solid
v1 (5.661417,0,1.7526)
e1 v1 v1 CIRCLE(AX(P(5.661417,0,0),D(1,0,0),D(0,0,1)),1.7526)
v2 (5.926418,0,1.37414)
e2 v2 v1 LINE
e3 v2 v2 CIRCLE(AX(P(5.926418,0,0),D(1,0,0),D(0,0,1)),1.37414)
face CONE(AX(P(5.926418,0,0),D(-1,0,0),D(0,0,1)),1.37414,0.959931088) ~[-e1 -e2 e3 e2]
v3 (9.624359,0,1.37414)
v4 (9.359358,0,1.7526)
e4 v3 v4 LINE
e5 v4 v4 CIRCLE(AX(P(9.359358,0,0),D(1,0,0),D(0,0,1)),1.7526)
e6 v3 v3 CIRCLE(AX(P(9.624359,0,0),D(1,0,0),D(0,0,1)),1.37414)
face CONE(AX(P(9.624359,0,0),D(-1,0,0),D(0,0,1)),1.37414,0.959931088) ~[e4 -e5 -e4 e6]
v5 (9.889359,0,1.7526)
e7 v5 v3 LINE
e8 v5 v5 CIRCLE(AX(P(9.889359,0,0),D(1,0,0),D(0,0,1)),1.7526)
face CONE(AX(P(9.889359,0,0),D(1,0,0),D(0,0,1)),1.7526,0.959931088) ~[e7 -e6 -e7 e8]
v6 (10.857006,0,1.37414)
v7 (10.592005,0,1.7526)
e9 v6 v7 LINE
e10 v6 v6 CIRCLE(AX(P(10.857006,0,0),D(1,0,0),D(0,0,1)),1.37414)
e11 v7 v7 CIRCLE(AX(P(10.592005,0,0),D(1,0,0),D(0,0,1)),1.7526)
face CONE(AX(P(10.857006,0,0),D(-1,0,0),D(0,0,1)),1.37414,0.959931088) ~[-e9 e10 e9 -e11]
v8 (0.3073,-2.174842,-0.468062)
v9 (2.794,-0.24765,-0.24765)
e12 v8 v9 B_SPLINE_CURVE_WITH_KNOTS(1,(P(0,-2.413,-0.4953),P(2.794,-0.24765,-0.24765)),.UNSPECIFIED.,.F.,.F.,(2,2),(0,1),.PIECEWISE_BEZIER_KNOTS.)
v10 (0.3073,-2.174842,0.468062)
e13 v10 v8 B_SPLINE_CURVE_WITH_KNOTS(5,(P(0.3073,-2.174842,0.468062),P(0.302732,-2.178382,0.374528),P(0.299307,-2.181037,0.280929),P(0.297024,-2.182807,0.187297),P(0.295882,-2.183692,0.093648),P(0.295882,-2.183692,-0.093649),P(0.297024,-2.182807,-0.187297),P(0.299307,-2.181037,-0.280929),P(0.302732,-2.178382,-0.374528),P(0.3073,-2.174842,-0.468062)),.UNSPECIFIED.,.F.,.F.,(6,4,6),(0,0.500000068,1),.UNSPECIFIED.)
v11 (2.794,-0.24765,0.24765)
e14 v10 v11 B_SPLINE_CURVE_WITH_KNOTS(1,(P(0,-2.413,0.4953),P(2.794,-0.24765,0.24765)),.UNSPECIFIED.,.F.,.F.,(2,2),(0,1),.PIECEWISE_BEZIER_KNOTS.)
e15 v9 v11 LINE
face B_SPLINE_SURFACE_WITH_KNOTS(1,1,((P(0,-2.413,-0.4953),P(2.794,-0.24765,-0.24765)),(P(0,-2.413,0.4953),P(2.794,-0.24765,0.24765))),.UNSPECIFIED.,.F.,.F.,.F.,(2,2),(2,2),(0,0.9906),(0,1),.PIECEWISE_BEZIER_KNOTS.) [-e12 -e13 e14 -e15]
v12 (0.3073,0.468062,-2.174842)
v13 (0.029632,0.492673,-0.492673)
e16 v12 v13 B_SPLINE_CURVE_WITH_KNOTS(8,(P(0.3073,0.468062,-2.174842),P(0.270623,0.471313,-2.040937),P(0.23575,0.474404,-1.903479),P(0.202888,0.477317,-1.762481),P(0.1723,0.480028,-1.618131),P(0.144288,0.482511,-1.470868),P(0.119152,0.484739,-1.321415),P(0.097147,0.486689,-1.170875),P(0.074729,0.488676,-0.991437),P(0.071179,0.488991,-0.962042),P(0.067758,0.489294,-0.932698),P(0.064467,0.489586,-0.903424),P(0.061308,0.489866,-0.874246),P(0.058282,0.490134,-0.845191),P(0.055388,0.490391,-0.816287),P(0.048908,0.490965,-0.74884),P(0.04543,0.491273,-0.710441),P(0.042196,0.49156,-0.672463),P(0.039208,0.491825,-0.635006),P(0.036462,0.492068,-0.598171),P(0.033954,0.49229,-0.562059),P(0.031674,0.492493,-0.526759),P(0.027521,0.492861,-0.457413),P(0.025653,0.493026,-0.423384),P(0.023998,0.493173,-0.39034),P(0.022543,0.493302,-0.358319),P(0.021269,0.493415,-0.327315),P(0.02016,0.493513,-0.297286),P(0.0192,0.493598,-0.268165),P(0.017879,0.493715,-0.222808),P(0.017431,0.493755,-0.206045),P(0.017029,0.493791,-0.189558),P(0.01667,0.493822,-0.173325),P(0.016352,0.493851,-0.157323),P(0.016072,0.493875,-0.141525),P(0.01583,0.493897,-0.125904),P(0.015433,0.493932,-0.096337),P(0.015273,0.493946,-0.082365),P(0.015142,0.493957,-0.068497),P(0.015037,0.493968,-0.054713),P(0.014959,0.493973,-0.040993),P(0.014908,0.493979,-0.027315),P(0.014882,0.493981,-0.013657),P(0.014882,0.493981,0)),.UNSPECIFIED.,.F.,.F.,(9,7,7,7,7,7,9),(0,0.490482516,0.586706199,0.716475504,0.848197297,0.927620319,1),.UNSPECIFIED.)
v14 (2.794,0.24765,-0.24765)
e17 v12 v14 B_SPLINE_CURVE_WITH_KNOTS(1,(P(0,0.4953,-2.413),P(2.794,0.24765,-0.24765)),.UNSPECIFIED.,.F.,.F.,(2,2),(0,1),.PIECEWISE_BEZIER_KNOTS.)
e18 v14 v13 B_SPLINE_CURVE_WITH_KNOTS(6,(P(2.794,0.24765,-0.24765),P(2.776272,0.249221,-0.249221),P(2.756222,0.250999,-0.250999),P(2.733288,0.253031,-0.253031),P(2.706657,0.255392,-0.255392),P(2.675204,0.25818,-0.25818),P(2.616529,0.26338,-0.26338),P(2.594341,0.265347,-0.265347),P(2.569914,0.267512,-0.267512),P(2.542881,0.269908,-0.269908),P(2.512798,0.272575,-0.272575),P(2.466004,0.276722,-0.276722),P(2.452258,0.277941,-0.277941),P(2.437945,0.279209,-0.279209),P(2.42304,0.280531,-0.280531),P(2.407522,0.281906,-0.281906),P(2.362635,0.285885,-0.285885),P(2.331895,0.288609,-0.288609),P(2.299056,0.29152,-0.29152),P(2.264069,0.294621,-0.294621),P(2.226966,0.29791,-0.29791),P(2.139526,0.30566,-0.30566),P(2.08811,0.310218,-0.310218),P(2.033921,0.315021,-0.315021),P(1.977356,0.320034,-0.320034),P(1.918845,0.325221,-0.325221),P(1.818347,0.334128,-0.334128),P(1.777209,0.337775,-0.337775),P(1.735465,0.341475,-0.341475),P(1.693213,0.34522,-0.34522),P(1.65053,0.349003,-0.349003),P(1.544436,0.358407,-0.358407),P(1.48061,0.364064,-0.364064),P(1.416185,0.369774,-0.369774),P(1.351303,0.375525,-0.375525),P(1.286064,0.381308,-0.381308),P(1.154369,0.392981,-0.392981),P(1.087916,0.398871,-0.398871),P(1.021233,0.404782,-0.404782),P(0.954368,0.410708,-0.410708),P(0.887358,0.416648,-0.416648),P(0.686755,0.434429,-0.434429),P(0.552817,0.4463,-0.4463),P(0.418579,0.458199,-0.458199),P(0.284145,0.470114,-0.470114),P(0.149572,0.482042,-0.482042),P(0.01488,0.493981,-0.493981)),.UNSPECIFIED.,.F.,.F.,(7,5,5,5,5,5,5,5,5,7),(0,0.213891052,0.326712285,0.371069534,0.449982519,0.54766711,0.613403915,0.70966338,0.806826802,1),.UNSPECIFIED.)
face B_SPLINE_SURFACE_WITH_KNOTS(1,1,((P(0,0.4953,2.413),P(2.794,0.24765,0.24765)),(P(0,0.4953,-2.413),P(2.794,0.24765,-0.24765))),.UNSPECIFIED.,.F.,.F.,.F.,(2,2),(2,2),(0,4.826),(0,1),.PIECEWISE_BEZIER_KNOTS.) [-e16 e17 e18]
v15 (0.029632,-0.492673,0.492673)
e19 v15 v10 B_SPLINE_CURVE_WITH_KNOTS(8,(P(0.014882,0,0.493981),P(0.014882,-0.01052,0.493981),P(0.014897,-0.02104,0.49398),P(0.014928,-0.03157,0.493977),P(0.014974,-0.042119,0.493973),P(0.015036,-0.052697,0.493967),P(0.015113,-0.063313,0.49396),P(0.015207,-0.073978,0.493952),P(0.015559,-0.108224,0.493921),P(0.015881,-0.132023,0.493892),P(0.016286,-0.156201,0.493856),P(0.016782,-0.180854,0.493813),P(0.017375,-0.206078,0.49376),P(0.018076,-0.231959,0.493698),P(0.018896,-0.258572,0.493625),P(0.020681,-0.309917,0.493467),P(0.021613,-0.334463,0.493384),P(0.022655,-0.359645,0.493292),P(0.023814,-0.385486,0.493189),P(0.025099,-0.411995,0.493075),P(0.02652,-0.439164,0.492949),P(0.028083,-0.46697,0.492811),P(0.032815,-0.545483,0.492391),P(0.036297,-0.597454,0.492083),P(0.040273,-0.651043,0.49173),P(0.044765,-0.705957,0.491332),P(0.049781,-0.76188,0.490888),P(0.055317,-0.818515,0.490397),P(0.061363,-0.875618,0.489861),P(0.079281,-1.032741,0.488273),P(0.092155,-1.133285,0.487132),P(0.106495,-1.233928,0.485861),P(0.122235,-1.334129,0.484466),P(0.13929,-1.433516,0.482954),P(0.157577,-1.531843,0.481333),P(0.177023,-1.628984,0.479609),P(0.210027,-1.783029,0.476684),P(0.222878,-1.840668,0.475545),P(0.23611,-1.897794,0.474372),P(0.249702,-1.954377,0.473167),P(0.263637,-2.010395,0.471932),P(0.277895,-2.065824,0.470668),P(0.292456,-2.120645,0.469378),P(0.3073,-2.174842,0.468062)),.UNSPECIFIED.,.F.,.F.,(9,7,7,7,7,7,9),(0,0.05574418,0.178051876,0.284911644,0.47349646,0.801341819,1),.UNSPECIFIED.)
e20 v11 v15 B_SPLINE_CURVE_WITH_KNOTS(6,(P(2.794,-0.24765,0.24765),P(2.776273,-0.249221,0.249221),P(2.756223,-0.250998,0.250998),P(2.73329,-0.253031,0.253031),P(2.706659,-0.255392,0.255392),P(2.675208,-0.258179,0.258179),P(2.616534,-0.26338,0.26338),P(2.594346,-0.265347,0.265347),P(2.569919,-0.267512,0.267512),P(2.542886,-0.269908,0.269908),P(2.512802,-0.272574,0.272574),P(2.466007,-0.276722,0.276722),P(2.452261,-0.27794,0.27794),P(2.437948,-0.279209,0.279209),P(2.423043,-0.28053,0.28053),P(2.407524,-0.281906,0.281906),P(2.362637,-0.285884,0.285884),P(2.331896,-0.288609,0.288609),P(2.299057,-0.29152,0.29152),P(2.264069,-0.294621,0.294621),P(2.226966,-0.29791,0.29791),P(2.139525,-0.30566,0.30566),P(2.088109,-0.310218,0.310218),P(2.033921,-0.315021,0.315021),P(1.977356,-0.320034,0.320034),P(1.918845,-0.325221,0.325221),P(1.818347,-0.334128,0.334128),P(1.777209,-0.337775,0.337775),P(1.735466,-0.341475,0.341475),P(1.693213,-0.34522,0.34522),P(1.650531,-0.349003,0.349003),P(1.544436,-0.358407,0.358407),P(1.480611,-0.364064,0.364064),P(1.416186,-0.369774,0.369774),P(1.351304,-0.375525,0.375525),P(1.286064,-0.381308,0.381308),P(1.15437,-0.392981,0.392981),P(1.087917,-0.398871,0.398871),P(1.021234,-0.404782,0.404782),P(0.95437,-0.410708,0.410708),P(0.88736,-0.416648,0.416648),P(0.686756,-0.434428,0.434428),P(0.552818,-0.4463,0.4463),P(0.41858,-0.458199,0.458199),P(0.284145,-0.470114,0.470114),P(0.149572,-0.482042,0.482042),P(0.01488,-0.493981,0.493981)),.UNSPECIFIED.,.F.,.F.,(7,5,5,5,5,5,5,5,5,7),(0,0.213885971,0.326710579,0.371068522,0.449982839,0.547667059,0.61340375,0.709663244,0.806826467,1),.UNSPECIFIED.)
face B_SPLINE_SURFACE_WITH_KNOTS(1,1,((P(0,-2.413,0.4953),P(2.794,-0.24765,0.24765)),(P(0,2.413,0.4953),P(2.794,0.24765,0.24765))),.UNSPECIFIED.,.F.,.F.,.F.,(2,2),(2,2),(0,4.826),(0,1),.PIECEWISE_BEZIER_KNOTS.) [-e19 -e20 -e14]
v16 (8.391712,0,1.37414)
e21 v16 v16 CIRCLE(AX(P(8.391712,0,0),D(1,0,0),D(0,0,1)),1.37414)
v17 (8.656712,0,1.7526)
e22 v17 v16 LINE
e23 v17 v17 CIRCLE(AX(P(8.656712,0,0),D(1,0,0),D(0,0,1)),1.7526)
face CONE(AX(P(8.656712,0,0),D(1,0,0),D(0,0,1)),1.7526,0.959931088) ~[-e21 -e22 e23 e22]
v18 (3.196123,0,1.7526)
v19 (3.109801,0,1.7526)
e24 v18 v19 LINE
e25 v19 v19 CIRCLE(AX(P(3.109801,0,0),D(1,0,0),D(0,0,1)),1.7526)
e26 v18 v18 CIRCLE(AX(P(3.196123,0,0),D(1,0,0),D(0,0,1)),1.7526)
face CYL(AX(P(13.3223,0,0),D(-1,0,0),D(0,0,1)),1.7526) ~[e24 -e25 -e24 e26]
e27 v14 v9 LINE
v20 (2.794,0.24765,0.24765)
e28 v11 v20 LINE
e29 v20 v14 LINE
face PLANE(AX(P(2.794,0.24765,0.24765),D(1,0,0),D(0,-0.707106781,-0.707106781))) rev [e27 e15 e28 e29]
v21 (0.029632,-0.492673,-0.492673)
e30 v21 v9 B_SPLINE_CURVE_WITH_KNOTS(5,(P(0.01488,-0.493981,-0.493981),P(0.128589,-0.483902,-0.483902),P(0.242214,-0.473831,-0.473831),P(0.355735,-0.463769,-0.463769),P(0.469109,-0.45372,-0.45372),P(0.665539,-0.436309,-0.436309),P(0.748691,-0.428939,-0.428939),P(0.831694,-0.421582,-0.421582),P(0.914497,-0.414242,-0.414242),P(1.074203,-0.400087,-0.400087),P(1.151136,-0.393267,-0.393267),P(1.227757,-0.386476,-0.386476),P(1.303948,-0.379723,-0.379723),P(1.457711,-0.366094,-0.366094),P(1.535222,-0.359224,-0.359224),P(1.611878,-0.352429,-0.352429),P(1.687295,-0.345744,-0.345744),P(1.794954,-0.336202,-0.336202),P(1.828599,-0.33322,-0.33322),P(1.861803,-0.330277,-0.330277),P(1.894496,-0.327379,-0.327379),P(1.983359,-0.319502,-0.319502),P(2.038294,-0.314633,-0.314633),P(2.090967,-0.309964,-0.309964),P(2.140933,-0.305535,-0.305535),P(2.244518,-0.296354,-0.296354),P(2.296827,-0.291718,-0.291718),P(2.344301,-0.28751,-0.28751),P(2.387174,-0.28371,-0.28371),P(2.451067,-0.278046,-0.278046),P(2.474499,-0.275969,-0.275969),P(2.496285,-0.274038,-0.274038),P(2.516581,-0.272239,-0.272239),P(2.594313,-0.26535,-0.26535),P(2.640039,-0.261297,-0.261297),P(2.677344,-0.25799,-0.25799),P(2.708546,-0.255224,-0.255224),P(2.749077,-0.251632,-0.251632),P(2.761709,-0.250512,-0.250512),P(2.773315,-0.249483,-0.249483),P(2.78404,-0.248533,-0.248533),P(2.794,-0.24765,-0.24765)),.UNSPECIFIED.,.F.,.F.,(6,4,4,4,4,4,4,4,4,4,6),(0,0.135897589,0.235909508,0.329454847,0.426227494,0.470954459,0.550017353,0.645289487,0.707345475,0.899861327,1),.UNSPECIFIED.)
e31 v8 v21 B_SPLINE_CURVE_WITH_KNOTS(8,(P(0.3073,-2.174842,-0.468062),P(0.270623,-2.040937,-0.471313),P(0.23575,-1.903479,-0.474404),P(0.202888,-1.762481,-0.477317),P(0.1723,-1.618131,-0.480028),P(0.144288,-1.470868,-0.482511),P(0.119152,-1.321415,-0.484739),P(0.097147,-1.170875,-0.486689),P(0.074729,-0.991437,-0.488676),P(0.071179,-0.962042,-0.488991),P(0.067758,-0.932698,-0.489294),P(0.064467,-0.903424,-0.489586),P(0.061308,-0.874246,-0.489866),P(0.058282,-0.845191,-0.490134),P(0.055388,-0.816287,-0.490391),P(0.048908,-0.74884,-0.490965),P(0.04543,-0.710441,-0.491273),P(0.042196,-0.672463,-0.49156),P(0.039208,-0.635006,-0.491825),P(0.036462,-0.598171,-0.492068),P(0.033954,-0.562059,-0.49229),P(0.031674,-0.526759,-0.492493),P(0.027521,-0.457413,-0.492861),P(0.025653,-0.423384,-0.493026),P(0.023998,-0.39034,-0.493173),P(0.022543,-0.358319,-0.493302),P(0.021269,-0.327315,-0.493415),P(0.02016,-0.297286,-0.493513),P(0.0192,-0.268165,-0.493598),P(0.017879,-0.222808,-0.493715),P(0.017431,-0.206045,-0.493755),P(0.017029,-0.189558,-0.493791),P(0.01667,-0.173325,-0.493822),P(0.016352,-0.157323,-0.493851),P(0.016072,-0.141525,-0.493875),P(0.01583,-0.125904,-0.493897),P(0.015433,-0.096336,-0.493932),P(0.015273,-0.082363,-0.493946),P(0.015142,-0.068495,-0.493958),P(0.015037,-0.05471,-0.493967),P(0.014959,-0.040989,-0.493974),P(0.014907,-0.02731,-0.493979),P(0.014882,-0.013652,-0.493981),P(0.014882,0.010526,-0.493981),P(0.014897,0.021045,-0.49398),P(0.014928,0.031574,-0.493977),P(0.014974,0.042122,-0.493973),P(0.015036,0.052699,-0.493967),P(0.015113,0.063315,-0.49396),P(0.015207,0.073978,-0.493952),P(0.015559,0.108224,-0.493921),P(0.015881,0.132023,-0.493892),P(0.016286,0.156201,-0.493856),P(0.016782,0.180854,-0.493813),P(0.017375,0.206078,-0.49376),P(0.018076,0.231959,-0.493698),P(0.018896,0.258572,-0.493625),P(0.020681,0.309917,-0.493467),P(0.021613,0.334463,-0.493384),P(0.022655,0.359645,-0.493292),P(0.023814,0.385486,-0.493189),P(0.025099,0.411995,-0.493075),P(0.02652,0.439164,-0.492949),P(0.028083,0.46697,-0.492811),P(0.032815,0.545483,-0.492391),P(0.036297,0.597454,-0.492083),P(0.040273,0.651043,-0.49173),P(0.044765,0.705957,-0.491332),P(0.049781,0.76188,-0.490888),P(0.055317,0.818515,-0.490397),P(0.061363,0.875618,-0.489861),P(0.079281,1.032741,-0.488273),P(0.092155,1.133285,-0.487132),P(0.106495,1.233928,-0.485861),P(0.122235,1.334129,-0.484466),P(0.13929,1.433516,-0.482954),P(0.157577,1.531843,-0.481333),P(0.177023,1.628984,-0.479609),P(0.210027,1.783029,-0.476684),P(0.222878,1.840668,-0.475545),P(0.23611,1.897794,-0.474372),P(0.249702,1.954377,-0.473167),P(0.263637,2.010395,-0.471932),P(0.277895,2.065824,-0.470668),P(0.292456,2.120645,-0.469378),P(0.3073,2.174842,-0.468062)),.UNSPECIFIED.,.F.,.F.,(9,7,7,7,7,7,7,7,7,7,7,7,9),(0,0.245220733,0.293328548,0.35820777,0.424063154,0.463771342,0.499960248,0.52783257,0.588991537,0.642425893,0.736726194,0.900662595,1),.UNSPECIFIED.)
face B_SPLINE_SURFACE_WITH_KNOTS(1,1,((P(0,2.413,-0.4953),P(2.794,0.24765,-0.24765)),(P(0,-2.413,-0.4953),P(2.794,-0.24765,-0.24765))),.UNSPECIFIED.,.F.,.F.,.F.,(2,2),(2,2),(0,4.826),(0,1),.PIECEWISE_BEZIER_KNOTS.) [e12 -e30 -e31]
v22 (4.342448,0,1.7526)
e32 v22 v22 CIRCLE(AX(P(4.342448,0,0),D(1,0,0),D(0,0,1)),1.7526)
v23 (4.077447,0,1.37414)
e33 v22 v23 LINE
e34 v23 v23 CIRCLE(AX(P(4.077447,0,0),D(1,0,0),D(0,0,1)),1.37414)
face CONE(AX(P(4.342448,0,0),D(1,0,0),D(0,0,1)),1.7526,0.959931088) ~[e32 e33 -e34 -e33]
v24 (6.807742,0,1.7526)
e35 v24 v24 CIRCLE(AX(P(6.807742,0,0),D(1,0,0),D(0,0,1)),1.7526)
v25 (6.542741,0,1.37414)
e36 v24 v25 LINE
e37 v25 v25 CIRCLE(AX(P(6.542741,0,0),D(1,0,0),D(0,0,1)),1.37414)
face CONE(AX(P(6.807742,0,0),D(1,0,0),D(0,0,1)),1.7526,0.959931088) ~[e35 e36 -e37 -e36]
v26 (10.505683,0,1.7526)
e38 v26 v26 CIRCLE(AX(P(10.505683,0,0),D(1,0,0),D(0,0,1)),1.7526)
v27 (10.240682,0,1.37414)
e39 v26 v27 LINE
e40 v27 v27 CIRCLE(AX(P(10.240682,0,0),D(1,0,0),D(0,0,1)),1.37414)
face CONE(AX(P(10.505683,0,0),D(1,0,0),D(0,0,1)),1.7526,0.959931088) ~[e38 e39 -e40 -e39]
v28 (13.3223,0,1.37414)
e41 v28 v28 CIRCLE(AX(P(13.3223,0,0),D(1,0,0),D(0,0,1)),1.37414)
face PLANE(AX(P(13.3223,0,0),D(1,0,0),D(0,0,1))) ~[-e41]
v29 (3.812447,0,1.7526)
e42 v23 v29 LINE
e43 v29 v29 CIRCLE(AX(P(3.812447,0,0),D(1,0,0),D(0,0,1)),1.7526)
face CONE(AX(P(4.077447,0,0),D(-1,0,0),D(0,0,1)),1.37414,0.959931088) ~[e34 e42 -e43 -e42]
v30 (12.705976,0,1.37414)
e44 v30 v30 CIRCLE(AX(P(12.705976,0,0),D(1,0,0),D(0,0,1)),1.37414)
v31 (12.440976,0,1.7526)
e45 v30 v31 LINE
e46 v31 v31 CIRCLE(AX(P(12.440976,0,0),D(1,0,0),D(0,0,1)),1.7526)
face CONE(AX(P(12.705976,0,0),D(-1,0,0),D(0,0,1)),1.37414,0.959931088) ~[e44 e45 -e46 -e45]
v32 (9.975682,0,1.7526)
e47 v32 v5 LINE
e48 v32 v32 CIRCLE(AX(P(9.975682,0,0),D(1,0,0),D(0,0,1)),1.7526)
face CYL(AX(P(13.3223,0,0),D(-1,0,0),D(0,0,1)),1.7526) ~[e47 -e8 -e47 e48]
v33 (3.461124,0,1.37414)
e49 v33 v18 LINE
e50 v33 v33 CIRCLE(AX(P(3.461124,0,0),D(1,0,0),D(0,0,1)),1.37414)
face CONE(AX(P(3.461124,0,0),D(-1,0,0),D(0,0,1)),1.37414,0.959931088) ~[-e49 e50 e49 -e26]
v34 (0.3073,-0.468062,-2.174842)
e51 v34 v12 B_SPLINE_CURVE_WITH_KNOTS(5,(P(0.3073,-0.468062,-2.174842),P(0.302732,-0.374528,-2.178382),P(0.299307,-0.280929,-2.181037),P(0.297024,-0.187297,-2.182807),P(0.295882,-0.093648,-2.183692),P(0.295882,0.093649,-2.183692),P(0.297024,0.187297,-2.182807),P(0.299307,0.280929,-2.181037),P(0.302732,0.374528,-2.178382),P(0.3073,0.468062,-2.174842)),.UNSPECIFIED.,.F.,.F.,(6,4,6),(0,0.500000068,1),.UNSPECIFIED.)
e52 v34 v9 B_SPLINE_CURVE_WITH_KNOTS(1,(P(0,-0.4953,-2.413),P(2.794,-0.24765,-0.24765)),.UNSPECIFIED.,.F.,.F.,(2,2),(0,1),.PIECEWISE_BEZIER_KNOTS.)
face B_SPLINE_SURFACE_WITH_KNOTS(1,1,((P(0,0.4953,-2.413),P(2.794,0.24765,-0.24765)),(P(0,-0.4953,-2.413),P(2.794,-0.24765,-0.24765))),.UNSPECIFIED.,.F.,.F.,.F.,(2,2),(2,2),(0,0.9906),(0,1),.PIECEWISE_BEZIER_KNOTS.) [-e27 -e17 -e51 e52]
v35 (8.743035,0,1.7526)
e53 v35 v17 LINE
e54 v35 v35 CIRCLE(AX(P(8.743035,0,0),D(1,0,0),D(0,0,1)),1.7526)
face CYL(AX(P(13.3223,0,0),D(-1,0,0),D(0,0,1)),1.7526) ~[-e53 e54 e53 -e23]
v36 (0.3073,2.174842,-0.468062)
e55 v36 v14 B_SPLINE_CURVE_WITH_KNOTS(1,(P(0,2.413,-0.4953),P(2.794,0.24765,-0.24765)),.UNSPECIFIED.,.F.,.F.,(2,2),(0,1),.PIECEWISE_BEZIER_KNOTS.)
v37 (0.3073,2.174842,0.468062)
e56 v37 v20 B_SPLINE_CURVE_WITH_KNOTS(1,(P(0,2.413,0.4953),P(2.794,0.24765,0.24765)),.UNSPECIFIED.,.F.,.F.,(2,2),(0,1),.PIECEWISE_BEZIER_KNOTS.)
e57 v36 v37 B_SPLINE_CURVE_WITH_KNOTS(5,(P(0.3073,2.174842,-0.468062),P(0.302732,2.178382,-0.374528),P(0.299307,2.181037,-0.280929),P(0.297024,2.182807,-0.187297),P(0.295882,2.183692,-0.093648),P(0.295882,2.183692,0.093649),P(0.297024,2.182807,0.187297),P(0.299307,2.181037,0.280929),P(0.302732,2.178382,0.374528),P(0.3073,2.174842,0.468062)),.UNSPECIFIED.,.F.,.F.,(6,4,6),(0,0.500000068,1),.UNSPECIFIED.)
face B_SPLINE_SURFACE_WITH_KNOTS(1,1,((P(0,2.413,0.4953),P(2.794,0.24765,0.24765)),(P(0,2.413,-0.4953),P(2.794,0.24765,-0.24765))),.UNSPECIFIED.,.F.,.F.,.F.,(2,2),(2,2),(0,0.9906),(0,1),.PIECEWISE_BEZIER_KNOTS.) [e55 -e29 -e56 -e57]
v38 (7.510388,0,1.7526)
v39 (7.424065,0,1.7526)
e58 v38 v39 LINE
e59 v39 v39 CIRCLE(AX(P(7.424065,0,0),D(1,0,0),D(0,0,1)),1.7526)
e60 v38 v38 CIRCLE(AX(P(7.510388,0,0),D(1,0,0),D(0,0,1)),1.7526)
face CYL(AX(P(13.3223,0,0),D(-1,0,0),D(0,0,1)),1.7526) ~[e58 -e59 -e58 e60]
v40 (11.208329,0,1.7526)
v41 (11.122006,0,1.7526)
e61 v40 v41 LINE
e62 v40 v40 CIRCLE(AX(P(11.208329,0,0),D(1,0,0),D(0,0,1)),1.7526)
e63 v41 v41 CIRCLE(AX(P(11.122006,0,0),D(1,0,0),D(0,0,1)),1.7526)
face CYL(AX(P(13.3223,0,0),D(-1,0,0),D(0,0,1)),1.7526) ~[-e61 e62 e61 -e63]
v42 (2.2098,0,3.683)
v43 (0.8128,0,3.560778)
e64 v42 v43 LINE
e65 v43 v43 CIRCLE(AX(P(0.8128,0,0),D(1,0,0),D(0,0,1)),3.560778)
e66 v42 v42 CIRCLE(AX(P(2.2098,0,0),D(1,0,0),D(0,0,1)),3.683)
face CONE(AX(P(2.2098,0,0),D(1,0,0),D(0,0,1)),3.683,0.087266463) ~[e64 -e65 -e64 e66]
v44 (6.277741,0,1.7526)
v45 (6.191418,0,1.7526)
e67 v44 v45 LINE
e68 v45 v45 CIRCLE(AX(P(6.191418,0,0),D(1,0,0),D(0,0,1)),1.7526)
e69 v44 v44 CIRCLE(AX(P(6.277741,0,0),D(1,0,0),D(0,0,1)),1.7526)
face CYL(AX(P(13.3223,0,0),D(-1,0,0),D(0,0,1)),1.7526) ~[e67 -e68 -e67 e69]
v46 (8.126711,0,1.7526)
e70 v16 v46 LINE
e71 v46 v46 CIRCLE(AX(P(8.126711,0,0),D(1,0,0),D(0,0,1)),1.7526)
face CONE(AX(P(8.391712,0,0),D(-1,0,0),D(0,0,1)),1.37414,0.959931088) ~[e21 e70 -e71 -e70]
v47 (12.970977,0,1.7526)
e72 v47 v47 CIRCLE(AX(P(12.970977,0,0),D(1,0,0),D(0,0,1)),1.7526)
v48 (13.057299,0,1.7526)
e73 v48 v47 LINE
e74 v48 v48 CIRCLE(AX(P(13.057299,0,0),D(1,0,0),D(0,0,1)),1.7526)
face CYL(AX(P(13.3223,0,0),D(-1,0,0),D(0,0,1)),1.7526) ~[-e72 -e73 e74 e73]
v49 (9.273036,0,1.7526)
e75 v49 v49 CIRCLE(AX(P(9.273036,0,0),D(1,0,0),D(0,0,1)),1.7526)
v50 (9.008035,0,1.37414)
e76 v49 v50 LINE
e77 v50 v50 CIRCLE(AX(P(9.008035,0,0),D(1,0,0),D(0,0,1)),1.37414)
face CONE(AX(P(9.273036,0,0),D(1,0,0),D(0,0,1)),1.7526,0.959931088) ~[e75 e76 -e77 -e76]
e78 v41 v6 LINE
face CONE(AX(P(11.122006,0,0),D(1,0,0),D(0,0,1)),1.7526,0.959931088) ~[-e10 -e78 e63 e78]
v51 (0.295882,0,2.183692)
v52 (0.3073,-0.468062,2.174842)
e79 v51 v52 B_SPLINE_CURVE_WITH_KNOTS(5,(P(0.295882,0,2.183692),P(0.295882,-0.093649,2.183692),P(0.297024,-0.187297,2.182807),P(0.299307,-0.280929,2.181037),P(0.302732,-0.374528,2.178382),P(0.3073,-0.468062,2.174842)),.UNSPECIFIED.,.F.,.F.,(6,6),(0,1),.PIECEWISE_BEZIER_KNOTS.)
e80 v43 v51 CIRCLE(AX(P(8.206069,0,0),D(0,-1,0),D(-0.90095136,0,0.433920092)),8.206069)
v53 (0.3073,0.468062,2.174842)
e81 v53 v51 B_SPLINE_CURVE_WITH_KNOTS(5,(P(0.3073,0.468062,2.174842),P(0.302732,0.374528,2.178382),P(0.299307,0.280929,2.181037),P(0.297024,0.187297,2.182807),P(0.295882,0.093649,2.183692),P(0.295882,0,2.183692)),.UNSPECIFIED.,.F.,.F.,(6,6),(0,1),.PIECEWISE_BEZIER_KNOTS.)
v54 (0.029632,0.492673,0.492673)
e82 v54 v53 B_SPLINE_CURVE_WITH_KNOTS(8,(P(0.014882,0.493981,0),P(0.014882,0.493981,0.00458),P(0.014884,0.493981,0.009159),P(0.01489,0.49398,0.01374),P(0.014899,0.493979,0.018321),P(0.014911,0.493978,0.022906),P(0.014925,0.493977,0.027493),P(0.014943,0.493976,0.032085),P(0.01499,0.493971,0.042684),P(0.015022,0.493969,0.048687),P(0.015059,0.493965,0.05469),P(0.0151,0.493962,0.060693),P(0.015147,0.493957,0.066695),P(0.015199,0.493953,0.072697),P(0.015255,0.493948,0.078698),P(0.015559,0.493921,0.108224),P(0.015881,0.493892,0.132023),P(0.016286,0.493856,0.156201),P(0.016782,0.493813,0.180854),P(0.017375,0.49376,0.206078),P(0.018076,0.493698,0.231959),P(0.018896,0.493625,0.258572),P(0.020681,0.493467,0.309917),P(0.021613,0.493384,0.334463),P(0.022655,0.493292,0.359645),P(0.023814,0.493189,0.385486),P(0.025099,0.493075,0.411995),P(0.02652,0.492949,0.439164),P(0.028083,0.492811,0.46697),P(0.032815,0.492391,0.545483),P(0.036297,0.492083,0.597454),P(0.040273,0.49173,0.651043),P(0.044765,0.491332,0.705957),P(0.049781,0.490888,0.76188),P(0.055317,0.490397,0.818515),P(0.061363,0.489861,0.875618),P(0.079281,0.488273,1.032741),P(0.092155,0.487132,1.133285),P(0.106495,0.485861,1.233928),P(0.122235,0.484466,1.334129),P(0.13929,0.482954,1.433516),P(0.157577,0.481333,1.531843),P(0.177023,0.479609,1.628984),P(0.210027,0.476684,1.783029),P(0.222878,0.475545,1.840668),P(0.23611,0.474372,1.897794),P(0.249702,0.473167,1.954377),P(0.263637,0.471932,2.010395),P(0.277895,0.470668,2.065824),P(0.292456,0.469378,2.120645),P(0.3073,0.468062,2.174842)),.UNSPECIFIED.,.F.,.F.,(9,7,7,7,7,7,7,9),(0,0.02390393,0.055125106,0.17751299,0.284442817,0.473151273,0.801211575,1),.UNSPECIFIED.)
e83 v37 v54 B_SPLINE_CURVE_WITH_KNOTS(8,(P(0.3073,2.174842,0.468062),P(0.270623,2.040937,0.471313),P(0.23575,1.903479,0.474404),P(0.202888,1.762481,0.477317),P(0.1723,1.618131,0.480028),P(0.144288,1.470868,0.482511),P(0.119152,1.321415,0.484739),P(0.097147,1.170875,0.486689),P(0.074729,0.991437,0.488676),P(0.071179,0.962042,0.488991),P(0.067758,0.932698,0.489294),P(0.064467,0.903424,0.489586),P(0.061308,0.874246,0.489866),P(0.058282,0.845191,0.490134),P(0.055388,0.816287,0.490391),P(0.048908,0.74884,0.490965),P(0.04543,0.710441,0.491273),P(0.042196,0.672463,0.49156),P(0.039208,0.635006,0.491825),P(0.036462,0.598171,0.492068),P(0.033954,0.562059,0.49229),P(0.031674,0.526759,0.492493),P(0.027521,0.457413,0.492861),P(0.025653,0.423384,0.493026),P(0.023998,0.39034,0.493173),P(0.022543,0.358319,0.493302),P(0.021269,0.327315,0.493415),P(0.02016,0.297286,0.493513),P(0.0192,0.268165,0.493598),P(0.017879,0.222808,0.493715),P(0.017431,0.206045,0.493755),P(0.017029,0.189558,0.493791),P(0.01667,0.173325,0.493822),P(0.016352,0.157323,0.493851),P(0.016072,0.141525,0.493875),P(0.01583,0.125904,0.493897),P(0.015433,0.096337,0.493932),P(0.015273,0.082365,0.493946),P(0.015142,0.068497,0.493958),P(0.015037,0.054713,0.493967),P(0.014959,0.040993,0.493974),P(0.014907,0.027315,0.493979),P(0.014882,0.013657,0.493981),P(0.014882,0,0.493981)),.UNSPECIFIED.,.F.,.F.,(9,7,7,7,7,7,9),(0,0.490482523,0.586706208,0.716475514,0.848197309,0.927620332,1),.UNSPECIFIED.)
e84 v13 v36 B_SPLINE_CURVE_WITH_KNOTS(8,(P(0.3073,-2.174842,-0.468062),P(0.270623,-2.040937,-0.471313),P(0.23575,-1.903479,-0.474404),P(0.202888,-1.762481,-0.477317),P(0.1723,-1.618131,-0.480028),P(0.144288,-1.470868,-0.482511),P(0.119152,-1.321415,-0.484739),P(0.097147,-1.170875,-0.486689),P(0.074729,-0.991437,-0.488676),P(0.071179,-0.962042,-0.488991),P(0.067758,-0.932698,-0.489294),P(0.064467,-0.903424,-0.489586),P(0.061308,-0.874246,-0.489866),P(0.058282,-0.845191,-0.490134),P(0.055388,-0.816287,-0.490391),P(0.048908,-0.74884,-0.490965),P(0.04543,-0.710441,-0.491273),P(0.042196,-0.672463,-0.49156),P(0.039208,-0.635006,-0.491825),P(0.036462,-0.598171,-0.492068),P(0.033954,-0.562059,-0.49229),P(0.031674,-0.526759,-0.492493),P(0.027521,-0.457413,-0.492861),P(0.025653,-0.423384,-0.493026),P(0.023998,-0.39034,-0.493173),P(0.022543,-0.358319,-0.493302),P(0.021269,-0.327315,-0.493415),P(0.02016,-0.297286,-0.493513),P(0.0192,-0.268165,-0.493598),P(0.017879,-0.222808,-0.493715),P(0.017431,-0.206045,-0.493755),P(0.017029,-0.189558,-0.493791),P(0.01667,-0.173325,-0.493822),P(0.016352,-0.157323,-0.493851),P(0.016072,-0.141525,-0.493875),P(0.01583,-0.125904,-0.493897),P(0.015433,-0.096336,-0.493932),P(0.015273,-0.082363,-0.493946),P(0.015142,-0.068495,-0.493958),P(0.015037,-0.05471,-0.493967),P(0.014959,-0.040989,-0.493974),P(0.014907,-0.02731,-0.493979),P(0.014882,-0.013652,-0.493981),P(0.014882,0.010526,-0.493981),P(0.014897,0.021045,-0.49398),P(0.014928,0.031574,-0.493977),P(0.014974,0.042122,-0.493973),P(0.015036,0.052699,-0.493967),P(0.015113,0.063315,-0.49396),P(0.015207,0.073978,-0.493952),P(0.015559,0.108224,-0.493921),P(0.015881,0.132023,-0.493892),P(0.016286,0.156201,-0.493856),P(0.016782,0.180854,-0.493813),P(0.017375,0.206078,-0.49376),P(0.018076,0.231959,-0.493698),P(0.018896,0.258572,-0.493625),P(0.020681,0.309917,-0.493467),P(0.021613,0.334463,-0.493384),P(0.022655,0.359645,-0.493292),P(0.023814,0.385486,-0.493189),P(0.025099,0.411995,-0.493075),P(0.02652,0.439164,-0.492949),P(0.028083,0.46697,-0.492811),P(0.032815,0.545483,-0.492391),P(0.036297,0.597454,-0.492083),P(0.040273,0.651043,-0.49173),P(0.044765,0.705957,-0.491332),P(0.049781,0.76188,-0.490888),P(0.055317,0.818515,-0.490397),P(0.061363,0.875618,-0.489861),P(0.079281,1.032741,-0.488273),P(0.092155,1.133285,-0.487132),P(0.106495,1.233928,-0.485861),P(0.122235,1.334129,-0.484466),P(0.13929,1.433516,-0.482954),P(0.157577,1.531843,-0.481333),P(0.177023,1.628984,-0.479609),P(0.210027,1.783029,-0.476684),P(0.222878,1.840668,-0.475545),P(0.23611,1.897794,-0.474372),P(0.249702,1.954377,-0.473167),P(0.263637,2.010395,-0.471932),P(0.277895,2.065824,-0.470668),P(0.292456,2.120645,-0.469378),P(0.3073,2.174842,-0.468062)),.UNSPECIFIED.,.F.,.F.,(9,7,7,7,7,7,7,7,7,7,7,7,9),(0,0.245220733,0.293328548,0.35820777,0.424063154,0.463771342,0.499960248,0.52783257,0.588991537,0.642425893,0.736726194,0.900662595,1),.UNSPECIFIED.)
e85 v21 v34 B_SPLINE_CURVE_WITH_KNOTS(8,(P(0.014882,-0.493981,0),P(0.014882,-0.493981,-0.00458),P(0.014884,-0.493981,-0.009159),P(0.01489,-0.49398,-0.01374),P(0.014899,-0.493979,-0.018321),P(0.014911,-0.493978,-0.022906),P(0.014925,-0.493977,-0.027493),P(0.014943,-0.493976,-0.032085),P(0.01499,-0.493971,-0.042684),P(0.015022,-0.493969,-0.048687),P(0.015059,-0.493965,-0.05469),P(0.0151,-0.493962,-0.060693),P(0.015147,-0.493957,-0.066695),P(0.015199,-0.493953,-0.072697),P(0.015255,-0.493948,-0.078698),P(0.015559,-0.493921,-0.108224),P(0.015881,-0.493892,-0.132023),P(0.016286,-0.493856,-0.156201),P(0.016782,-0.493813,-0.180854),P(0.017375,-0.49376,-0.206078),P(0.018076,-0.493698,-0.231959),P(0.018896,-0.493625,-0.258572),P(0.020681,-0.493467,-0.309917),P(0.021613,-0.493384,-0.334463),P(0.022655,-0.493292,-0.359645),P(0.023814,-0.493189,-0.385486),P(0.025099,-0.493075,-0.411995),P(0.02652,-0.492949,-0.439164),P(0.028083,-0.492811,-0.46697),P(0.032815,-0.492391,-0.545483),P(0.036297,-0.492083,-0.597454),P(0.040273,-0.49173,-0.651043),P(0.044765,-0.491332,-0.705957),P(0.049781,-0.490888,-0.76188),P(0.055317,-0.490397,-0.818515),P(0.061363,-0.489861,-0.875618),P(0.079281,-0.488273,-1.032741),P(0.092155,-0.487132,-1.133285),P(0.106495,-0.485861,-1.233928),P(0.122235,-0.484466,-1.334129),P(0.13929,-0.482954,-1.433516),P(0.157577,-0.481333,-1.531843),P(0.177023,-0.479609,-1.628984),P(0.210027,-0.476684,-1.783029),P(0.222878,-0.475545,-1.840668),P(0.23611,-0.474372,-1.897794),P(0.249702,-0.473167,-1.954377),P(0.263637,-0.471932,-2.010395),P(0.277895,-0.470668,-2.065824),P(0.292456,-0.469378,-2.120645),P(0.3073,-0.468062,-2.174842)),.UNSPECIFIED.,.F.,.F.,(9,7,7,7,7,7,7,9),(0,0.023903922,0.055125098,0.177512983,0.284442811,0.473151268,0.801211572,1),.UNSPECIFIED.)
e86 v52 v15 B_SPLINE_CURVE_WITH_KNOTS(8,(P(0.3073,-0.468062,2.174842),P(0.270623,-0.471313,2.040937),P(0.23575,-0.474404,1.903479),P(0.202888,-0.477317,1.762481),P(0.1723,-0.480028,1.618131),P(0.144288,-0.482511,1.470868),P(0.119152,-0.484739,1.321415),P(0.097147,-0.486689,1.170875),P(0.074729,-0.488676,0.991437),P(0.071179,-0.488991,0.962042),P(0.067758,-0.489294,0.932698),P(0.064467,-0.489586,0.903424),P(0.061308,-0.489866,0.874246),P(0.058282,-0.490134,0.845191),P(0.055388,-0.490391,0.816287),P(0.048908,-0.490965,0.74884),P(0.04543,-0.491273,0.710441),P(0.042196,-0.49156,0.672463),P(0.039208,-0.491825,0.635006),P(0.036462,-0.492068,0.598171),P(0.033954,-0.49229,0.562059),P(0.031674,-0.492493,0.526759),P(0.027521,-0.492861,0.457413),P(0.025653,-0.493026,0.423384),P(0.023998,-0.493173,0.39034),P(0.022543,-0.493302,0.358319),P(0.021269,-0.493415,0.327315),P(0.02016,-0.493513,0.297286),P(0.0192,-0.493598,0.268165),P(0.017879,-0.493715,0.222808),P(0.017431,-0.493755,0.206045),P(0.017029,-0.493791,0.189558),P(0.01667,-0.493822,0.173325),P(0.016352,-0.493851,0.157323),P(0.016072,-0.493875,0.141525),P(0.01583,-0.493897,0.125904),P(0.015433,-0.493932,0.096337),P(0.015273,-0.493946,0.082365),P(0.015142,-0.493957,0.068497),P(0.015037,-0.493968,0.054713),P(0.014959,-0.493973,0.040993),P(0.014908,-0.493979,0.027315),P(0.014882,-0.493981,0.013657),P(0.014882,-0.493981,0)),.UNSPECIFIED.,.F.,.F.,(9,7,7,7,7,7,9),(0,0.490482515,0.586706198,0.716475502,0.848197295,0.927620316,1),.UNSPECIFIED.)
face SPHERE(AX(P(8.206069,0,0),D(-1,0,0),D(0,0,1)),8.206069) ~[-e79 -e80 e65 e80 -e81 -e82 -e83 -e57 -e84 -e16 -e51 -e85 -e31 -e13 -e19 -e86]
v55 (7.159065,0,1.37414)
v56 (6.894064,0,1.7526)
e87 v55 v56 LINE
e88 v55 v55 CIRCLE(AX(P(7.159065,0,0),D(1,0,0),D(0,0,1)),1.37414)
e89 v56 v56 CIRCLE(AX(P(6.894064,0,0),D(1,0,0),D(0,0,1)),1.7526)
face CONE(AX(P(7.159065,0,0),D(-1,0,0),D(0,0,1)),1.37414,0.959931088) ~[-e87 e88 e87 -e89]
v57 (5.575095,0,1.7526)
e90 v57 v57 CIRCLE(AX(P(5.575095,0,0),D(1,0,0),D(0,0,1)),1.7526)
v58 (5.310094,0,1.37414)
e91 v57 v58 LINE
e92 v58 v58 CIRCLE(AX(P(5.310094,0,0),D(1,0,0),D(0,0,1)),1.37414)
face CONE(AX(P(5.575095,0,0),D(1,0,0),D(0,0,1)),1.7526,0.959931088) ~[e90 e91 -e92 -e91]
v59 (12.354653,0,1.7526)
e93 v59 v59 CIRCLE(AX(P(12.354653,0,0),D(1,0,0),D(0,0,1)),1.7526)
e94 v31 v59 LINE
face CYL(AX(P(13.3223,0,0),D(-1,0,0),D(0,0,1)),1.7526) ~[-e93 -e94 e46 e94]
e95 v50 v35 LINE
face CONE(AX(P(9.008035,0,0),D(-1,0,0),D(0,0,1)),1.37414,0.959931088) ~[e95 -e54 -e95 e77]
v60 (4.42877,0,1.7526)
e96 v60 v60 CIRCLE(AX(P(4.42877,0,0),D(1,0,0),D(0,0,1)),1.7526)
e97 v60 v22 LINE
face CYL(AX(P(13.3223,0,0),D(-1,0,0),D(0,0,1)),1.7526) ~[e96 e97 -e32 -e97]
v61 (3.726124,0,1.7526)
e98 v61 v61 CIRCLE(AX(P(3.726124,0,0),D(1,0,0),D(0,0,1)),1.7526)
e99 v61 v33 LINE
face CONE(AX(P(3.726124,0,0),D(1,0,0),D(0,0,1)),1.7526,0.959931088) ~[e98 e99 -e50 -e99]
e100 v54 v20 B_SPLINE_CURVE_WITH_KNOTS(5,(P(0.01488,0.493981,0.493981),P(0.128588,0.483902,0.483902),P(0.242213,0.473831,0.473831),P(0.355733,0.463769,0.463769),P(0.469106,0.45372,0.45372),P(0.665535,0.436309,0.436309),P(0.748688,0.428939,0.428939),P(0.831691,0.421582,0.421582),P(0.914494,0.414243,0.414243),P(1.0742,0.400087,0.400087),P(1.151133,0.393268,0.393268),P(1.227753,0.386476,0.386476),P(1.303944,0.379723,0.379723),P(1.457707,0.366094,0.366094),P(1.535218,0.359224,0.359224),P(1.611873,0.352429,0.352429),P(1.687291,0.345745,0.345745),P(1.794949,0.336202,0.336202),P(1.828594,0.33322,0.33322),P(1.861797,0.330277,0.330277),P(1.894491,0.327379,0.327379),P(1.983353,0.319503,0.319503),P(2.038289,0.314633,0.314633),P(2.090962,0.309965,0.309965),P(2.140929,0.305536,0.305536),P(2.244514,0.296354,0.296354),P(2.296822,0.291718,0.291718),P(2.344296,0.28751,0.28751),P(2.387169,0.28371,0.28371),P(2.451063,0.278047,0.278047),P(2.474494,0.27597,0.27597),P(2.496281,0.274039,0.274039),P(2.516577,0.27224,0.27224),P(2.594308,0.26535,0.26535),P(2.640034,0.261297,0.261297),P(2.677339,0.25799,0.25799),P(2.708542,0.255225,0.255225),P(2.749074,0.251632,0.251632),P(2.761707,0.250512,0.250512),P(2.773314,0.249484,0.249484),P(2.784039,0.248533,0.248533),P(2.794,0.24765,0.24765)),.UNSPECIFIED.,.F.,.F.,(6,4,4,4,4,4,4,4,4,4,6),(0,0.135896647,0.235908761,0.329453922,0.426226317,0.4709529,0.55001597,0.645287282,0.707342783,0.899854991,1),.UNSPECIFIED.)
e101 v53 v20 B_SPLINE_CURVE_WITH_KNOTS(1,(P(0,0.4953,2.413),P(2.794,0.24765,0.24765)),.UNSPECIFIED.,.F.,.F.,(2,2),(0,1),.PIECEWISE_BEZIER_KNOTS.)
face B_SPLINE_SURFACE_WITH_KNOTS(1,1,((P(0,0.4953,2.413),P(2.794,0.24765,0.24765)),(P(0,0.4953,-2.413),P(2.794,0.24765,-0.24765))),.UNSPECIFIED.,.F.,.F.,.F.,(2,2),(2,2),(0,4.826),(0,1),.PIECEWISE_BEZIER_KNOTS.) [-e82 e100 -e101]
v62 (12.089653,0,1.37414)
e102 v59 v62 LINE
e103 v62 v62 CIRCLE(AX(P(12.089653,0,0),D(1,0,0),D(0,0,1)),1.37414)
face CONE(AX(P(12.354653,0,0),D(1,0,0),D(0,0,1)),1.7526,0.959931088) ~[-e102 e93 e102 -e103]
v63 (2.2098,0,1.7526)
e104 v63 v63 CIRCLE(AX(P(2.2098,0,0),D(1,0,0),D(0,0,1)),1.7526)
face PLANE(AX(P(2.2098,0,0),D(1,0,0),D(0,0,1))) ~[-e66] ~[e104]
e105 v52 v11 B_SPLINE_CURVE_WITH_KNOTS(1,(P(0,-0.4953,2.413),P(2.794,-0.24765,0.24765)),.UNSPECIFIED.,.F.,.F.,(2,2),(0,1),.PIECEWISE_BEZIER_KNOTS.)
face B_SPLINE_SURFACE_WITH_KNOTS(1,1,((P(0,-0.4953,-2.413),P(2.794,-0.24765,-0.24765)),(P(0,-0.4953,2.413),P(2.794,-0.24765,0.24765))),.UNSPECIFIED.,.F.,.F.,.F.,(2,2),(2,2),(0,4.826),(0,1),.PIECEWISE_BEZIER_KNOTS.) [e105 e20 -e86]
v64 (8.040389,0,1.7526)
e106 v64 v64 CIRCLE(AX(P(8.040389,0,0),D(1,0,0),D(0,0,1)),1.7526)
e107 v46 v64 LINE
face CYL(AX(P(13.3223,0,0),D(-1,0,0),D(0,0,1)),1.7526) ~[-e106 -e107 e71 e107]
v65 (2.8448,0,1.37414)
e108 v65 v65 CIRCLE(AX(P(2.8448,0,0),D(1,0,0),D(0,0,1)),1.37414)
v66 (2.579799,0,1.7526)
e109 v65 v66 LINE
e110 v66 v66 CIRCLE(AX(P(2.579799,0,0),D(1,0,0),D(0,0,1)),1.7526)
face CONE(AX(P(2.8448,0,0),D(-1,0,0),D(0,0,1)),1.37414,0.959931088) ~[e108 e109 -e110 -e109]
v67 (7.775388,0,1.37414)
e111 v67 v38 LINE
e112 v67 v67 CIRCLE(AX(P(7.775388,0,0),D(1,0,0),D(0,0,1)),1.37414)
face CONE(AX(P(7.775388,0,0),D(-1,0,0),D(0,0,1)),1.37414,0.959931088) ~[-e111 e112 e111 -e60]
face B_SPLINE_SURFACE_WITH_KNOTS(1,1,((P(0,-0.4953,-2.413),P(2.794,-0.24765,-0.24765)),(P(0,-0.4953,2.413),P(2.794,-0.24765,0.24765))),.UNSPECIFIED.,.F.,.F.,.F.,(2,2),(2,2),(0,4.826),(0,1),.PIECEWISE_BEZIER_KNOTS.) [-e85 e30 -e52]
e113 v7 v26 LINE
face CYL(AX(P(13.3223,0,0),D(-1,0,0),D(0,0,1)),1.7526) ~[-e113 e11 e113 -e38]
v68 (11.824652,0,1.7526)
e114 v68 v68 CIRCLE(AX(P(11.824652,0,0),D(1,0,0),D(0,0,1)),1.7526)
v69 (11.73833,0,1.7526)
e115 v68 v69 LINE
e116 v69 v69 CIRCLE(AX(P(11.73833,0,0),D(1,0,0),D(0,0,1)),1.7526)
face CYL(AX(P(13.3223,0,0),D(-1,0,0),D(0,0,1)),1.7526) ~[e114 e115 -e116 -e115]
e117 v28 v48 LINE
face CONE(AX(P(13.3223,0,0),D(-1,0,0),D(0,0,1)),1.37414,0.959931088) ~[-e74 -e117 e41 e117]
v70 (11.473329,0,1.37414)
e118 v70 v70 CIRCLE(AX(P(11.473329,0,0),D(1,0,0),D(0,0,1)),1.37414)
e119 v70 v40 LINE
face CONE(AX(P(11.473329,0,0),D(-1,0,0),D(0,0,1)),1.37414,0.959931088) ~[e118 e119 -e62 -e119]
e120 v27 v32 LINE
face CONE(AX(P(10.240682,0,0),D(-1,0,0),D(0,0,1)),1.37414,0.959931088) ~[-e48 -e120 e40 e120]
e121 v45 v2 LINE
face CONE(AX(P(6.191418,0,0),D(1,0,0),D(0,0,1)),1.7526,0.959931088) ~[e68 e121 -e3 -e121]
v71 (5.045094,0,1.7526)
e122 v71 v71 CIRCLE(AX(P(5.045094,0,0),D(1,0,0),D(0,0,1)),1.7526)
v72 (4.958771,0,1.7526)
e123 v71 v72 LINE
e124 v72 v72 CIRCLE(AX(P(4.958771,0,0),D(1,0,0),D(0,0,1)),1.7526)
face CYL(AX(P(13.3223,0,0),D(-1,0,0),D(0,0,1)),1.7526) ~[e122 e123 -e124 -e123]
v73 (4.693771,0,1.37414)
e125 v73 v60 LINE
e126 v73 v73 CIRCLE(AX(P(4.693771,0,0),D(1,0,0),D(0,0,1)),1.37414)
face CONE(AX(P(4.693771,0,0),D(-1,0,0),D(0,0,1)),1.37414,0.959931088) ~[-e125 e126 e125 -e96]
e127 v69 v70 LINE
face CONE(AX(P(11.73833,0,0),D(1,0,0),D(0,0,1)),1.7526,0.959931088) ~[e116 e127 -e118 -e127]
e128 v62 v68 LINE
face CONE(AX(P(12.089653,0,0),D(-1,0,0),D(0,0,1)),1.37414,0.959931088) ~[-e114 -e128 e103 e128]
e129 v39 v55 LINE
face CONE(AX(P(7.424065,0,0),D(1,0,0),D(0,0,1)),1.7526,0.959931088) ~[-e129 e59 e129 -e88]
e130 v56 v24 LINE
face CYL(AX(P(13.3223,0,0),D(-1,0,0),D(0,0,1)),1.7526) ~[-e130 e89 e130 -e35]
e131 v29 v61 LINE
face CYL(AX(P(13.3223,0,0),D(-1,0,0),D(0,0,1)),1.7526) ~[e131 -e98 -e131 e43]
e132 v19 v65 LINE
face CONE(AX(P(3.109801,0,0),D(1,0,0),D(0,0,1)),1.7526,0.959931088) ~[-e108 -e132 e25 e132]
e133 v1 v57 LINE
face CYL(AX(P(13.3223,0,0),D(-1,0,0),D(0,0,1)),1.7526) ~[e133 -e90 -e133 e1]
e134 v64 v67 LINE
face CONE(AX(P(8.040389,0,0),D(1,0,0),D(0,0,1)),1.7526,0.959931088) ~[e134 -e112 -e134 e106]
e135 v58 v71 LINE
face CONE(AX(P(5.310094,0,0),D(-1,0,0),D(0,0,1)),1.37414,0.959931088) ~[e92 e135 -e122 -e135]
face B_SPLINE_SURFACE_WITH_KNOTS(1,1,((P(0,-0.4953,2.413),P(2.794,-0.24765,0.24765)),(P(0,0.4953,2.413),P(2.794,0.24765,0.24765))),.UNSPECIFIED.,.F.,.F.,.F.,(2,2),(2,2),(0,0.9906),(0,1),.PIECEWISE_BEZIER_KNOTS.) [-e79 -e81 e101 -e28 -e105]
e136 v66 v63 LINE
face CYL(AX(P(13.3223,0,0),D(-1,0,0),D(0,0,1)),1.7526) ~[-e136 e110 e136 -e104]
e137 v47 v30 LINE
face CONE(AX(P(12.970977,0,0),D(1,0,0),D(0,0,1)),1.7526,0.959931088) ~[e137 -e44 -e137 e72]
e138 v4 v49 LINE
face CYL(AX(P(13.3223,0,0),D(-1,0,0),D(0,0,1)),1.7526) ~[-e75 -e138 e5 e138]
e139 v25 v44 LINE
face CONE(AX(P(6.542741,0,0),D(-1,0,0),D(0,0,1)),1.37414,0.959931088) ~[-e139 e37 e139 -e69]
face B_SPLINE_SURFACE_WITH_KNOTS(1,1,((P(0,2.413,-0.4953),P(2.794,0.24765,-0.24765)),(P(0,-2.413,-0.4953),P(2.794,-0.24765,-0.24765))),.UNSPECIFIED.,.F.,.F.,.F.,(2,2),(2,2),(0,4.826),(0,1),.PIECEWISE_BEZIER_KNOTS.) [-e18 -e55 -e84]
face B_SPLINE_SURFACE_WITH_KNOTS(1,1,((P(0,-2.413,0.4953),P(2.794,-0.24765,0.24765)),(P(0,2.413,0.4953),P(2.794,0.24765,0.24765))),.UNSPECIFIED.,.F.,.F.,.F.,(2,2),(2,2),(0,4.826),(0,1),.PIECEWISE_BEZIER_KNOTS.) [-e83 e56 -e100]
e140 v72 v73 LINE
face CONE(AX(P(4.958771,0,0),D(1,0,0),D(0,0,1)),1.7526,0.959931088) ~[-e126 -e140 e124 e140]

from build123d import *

# Parameters (mm, degrees)
CIRPATTERN1_COUNT = 2
CIRPATTERN1_ANGLE = 90
THDSCHPAT_COUNT   = 18
THDSCHPAT_PITCH   = 0.616323529


with BuildPart() as part:
    # BodySke → Base-Revolve (revolve)
    with BuildSketch(Plane.XY, mode=Mode.PRIVATE) as base_revolve_sk:
        with BuildLine():
            Line((2.2098, 1.7526), (2.2098, 3.683))
            Line((2.2098, 3.683), (0.8128, 3.560778337))
            ThreePointArc((0.8128, 3.560778337), (0.205780131, 1.826183603), (0, 0))
            Line((0, 0), (13.3223, 0))
            Line((13.3223, 0), (13.3223, 1.7526))
            Line((13.3223, 1.7526), (2.2098, 1.7526))
        make_face()
    revolve(base_revolve_sk.sketch.rotate(Axis((-25.4, 0, 0), (1, 0, 0)), 90), axis=Axis((-25.4, 0, 0), (1, 0, 0)))

    # Sketch3 → Cross section 0
    with BuildSketch(Plane(origin=(0, 0, 0), x_dir=(0, 0, -1), z_dir=(1, 0, 0))):
        with BuildLine():
            Line((-0.4953, 2.413), (0.4953, 2.413))
            Line((0.4953, 2.413), (0.4953, -2.413))
            Line((0.4953, -2.413), (-0.4953, -2.413))
            Line((-0.4953, -2.413), (-0.4953, 2.413))
        make_face()
    # Sketch4 → Cross section 1
    with BuildSketch(Plane(origin=(2.794, 0, 0), x_dir=(0, 0, -1), z_dir=(1, 0, 0))):
        with BuildLine():
            Line((-0.24765, 0.24765), (0.24765, 0.24765))
            Line((0.24765, 0.24765), (0.24765, -0.24765))
            Line((0.24765, -0.24765), (-0.24765, -0.24765))
            Line((-0.24765, -0.24765), (-0.24765, 0.24765))
        make_face()
    cross = loft(mode=Mode.SUBTRACT)

    # CirPattern1: Cross ×2 about axis
    cirpattern1_axis = Axis((0, 0, 0), (1, 0, 0))
    for i in range(1, CIRPATTERN1_COUNT):
        add(cross.rotate(cirpattern1_axis, i * CIRPATTERN1_ANGLE / (CIRPATTERN1_COUNT - 1)), mode=Mode.SUBTRACT)

    # ThdSchSke → ThreadSchematic (revolve, cut)
    with BuildSketch(Plane.XY, mode=Mode.PRIVATE) as threadschematic_sk:
        Polygon((2.8448, -1.37414), (2.579799455, -1.7526), (2.579799455, -2.19075), (3.109800545, -2.19075), (3.109800545, -1.7526), align=None)
    threadschematic = revolve(threadschematic_sk.sketch.rotate(Axis((-3.175, 0, 0), (1, 0, 0)), 270), axis=Axis((-3.175, 0, 0), (1, 0, 0)), mode=Mode.SUBTRACT)

    # ThdSchPat: ThreadSchematic ×18
    with Locations(*[(i * THDSCHPAT_PITCH, 0, 0) for i in range(1, THDSCHPAT_COUNT)]):
        add(threadschematic, mode=Mode.SUBTRACT)


solid = part.part
